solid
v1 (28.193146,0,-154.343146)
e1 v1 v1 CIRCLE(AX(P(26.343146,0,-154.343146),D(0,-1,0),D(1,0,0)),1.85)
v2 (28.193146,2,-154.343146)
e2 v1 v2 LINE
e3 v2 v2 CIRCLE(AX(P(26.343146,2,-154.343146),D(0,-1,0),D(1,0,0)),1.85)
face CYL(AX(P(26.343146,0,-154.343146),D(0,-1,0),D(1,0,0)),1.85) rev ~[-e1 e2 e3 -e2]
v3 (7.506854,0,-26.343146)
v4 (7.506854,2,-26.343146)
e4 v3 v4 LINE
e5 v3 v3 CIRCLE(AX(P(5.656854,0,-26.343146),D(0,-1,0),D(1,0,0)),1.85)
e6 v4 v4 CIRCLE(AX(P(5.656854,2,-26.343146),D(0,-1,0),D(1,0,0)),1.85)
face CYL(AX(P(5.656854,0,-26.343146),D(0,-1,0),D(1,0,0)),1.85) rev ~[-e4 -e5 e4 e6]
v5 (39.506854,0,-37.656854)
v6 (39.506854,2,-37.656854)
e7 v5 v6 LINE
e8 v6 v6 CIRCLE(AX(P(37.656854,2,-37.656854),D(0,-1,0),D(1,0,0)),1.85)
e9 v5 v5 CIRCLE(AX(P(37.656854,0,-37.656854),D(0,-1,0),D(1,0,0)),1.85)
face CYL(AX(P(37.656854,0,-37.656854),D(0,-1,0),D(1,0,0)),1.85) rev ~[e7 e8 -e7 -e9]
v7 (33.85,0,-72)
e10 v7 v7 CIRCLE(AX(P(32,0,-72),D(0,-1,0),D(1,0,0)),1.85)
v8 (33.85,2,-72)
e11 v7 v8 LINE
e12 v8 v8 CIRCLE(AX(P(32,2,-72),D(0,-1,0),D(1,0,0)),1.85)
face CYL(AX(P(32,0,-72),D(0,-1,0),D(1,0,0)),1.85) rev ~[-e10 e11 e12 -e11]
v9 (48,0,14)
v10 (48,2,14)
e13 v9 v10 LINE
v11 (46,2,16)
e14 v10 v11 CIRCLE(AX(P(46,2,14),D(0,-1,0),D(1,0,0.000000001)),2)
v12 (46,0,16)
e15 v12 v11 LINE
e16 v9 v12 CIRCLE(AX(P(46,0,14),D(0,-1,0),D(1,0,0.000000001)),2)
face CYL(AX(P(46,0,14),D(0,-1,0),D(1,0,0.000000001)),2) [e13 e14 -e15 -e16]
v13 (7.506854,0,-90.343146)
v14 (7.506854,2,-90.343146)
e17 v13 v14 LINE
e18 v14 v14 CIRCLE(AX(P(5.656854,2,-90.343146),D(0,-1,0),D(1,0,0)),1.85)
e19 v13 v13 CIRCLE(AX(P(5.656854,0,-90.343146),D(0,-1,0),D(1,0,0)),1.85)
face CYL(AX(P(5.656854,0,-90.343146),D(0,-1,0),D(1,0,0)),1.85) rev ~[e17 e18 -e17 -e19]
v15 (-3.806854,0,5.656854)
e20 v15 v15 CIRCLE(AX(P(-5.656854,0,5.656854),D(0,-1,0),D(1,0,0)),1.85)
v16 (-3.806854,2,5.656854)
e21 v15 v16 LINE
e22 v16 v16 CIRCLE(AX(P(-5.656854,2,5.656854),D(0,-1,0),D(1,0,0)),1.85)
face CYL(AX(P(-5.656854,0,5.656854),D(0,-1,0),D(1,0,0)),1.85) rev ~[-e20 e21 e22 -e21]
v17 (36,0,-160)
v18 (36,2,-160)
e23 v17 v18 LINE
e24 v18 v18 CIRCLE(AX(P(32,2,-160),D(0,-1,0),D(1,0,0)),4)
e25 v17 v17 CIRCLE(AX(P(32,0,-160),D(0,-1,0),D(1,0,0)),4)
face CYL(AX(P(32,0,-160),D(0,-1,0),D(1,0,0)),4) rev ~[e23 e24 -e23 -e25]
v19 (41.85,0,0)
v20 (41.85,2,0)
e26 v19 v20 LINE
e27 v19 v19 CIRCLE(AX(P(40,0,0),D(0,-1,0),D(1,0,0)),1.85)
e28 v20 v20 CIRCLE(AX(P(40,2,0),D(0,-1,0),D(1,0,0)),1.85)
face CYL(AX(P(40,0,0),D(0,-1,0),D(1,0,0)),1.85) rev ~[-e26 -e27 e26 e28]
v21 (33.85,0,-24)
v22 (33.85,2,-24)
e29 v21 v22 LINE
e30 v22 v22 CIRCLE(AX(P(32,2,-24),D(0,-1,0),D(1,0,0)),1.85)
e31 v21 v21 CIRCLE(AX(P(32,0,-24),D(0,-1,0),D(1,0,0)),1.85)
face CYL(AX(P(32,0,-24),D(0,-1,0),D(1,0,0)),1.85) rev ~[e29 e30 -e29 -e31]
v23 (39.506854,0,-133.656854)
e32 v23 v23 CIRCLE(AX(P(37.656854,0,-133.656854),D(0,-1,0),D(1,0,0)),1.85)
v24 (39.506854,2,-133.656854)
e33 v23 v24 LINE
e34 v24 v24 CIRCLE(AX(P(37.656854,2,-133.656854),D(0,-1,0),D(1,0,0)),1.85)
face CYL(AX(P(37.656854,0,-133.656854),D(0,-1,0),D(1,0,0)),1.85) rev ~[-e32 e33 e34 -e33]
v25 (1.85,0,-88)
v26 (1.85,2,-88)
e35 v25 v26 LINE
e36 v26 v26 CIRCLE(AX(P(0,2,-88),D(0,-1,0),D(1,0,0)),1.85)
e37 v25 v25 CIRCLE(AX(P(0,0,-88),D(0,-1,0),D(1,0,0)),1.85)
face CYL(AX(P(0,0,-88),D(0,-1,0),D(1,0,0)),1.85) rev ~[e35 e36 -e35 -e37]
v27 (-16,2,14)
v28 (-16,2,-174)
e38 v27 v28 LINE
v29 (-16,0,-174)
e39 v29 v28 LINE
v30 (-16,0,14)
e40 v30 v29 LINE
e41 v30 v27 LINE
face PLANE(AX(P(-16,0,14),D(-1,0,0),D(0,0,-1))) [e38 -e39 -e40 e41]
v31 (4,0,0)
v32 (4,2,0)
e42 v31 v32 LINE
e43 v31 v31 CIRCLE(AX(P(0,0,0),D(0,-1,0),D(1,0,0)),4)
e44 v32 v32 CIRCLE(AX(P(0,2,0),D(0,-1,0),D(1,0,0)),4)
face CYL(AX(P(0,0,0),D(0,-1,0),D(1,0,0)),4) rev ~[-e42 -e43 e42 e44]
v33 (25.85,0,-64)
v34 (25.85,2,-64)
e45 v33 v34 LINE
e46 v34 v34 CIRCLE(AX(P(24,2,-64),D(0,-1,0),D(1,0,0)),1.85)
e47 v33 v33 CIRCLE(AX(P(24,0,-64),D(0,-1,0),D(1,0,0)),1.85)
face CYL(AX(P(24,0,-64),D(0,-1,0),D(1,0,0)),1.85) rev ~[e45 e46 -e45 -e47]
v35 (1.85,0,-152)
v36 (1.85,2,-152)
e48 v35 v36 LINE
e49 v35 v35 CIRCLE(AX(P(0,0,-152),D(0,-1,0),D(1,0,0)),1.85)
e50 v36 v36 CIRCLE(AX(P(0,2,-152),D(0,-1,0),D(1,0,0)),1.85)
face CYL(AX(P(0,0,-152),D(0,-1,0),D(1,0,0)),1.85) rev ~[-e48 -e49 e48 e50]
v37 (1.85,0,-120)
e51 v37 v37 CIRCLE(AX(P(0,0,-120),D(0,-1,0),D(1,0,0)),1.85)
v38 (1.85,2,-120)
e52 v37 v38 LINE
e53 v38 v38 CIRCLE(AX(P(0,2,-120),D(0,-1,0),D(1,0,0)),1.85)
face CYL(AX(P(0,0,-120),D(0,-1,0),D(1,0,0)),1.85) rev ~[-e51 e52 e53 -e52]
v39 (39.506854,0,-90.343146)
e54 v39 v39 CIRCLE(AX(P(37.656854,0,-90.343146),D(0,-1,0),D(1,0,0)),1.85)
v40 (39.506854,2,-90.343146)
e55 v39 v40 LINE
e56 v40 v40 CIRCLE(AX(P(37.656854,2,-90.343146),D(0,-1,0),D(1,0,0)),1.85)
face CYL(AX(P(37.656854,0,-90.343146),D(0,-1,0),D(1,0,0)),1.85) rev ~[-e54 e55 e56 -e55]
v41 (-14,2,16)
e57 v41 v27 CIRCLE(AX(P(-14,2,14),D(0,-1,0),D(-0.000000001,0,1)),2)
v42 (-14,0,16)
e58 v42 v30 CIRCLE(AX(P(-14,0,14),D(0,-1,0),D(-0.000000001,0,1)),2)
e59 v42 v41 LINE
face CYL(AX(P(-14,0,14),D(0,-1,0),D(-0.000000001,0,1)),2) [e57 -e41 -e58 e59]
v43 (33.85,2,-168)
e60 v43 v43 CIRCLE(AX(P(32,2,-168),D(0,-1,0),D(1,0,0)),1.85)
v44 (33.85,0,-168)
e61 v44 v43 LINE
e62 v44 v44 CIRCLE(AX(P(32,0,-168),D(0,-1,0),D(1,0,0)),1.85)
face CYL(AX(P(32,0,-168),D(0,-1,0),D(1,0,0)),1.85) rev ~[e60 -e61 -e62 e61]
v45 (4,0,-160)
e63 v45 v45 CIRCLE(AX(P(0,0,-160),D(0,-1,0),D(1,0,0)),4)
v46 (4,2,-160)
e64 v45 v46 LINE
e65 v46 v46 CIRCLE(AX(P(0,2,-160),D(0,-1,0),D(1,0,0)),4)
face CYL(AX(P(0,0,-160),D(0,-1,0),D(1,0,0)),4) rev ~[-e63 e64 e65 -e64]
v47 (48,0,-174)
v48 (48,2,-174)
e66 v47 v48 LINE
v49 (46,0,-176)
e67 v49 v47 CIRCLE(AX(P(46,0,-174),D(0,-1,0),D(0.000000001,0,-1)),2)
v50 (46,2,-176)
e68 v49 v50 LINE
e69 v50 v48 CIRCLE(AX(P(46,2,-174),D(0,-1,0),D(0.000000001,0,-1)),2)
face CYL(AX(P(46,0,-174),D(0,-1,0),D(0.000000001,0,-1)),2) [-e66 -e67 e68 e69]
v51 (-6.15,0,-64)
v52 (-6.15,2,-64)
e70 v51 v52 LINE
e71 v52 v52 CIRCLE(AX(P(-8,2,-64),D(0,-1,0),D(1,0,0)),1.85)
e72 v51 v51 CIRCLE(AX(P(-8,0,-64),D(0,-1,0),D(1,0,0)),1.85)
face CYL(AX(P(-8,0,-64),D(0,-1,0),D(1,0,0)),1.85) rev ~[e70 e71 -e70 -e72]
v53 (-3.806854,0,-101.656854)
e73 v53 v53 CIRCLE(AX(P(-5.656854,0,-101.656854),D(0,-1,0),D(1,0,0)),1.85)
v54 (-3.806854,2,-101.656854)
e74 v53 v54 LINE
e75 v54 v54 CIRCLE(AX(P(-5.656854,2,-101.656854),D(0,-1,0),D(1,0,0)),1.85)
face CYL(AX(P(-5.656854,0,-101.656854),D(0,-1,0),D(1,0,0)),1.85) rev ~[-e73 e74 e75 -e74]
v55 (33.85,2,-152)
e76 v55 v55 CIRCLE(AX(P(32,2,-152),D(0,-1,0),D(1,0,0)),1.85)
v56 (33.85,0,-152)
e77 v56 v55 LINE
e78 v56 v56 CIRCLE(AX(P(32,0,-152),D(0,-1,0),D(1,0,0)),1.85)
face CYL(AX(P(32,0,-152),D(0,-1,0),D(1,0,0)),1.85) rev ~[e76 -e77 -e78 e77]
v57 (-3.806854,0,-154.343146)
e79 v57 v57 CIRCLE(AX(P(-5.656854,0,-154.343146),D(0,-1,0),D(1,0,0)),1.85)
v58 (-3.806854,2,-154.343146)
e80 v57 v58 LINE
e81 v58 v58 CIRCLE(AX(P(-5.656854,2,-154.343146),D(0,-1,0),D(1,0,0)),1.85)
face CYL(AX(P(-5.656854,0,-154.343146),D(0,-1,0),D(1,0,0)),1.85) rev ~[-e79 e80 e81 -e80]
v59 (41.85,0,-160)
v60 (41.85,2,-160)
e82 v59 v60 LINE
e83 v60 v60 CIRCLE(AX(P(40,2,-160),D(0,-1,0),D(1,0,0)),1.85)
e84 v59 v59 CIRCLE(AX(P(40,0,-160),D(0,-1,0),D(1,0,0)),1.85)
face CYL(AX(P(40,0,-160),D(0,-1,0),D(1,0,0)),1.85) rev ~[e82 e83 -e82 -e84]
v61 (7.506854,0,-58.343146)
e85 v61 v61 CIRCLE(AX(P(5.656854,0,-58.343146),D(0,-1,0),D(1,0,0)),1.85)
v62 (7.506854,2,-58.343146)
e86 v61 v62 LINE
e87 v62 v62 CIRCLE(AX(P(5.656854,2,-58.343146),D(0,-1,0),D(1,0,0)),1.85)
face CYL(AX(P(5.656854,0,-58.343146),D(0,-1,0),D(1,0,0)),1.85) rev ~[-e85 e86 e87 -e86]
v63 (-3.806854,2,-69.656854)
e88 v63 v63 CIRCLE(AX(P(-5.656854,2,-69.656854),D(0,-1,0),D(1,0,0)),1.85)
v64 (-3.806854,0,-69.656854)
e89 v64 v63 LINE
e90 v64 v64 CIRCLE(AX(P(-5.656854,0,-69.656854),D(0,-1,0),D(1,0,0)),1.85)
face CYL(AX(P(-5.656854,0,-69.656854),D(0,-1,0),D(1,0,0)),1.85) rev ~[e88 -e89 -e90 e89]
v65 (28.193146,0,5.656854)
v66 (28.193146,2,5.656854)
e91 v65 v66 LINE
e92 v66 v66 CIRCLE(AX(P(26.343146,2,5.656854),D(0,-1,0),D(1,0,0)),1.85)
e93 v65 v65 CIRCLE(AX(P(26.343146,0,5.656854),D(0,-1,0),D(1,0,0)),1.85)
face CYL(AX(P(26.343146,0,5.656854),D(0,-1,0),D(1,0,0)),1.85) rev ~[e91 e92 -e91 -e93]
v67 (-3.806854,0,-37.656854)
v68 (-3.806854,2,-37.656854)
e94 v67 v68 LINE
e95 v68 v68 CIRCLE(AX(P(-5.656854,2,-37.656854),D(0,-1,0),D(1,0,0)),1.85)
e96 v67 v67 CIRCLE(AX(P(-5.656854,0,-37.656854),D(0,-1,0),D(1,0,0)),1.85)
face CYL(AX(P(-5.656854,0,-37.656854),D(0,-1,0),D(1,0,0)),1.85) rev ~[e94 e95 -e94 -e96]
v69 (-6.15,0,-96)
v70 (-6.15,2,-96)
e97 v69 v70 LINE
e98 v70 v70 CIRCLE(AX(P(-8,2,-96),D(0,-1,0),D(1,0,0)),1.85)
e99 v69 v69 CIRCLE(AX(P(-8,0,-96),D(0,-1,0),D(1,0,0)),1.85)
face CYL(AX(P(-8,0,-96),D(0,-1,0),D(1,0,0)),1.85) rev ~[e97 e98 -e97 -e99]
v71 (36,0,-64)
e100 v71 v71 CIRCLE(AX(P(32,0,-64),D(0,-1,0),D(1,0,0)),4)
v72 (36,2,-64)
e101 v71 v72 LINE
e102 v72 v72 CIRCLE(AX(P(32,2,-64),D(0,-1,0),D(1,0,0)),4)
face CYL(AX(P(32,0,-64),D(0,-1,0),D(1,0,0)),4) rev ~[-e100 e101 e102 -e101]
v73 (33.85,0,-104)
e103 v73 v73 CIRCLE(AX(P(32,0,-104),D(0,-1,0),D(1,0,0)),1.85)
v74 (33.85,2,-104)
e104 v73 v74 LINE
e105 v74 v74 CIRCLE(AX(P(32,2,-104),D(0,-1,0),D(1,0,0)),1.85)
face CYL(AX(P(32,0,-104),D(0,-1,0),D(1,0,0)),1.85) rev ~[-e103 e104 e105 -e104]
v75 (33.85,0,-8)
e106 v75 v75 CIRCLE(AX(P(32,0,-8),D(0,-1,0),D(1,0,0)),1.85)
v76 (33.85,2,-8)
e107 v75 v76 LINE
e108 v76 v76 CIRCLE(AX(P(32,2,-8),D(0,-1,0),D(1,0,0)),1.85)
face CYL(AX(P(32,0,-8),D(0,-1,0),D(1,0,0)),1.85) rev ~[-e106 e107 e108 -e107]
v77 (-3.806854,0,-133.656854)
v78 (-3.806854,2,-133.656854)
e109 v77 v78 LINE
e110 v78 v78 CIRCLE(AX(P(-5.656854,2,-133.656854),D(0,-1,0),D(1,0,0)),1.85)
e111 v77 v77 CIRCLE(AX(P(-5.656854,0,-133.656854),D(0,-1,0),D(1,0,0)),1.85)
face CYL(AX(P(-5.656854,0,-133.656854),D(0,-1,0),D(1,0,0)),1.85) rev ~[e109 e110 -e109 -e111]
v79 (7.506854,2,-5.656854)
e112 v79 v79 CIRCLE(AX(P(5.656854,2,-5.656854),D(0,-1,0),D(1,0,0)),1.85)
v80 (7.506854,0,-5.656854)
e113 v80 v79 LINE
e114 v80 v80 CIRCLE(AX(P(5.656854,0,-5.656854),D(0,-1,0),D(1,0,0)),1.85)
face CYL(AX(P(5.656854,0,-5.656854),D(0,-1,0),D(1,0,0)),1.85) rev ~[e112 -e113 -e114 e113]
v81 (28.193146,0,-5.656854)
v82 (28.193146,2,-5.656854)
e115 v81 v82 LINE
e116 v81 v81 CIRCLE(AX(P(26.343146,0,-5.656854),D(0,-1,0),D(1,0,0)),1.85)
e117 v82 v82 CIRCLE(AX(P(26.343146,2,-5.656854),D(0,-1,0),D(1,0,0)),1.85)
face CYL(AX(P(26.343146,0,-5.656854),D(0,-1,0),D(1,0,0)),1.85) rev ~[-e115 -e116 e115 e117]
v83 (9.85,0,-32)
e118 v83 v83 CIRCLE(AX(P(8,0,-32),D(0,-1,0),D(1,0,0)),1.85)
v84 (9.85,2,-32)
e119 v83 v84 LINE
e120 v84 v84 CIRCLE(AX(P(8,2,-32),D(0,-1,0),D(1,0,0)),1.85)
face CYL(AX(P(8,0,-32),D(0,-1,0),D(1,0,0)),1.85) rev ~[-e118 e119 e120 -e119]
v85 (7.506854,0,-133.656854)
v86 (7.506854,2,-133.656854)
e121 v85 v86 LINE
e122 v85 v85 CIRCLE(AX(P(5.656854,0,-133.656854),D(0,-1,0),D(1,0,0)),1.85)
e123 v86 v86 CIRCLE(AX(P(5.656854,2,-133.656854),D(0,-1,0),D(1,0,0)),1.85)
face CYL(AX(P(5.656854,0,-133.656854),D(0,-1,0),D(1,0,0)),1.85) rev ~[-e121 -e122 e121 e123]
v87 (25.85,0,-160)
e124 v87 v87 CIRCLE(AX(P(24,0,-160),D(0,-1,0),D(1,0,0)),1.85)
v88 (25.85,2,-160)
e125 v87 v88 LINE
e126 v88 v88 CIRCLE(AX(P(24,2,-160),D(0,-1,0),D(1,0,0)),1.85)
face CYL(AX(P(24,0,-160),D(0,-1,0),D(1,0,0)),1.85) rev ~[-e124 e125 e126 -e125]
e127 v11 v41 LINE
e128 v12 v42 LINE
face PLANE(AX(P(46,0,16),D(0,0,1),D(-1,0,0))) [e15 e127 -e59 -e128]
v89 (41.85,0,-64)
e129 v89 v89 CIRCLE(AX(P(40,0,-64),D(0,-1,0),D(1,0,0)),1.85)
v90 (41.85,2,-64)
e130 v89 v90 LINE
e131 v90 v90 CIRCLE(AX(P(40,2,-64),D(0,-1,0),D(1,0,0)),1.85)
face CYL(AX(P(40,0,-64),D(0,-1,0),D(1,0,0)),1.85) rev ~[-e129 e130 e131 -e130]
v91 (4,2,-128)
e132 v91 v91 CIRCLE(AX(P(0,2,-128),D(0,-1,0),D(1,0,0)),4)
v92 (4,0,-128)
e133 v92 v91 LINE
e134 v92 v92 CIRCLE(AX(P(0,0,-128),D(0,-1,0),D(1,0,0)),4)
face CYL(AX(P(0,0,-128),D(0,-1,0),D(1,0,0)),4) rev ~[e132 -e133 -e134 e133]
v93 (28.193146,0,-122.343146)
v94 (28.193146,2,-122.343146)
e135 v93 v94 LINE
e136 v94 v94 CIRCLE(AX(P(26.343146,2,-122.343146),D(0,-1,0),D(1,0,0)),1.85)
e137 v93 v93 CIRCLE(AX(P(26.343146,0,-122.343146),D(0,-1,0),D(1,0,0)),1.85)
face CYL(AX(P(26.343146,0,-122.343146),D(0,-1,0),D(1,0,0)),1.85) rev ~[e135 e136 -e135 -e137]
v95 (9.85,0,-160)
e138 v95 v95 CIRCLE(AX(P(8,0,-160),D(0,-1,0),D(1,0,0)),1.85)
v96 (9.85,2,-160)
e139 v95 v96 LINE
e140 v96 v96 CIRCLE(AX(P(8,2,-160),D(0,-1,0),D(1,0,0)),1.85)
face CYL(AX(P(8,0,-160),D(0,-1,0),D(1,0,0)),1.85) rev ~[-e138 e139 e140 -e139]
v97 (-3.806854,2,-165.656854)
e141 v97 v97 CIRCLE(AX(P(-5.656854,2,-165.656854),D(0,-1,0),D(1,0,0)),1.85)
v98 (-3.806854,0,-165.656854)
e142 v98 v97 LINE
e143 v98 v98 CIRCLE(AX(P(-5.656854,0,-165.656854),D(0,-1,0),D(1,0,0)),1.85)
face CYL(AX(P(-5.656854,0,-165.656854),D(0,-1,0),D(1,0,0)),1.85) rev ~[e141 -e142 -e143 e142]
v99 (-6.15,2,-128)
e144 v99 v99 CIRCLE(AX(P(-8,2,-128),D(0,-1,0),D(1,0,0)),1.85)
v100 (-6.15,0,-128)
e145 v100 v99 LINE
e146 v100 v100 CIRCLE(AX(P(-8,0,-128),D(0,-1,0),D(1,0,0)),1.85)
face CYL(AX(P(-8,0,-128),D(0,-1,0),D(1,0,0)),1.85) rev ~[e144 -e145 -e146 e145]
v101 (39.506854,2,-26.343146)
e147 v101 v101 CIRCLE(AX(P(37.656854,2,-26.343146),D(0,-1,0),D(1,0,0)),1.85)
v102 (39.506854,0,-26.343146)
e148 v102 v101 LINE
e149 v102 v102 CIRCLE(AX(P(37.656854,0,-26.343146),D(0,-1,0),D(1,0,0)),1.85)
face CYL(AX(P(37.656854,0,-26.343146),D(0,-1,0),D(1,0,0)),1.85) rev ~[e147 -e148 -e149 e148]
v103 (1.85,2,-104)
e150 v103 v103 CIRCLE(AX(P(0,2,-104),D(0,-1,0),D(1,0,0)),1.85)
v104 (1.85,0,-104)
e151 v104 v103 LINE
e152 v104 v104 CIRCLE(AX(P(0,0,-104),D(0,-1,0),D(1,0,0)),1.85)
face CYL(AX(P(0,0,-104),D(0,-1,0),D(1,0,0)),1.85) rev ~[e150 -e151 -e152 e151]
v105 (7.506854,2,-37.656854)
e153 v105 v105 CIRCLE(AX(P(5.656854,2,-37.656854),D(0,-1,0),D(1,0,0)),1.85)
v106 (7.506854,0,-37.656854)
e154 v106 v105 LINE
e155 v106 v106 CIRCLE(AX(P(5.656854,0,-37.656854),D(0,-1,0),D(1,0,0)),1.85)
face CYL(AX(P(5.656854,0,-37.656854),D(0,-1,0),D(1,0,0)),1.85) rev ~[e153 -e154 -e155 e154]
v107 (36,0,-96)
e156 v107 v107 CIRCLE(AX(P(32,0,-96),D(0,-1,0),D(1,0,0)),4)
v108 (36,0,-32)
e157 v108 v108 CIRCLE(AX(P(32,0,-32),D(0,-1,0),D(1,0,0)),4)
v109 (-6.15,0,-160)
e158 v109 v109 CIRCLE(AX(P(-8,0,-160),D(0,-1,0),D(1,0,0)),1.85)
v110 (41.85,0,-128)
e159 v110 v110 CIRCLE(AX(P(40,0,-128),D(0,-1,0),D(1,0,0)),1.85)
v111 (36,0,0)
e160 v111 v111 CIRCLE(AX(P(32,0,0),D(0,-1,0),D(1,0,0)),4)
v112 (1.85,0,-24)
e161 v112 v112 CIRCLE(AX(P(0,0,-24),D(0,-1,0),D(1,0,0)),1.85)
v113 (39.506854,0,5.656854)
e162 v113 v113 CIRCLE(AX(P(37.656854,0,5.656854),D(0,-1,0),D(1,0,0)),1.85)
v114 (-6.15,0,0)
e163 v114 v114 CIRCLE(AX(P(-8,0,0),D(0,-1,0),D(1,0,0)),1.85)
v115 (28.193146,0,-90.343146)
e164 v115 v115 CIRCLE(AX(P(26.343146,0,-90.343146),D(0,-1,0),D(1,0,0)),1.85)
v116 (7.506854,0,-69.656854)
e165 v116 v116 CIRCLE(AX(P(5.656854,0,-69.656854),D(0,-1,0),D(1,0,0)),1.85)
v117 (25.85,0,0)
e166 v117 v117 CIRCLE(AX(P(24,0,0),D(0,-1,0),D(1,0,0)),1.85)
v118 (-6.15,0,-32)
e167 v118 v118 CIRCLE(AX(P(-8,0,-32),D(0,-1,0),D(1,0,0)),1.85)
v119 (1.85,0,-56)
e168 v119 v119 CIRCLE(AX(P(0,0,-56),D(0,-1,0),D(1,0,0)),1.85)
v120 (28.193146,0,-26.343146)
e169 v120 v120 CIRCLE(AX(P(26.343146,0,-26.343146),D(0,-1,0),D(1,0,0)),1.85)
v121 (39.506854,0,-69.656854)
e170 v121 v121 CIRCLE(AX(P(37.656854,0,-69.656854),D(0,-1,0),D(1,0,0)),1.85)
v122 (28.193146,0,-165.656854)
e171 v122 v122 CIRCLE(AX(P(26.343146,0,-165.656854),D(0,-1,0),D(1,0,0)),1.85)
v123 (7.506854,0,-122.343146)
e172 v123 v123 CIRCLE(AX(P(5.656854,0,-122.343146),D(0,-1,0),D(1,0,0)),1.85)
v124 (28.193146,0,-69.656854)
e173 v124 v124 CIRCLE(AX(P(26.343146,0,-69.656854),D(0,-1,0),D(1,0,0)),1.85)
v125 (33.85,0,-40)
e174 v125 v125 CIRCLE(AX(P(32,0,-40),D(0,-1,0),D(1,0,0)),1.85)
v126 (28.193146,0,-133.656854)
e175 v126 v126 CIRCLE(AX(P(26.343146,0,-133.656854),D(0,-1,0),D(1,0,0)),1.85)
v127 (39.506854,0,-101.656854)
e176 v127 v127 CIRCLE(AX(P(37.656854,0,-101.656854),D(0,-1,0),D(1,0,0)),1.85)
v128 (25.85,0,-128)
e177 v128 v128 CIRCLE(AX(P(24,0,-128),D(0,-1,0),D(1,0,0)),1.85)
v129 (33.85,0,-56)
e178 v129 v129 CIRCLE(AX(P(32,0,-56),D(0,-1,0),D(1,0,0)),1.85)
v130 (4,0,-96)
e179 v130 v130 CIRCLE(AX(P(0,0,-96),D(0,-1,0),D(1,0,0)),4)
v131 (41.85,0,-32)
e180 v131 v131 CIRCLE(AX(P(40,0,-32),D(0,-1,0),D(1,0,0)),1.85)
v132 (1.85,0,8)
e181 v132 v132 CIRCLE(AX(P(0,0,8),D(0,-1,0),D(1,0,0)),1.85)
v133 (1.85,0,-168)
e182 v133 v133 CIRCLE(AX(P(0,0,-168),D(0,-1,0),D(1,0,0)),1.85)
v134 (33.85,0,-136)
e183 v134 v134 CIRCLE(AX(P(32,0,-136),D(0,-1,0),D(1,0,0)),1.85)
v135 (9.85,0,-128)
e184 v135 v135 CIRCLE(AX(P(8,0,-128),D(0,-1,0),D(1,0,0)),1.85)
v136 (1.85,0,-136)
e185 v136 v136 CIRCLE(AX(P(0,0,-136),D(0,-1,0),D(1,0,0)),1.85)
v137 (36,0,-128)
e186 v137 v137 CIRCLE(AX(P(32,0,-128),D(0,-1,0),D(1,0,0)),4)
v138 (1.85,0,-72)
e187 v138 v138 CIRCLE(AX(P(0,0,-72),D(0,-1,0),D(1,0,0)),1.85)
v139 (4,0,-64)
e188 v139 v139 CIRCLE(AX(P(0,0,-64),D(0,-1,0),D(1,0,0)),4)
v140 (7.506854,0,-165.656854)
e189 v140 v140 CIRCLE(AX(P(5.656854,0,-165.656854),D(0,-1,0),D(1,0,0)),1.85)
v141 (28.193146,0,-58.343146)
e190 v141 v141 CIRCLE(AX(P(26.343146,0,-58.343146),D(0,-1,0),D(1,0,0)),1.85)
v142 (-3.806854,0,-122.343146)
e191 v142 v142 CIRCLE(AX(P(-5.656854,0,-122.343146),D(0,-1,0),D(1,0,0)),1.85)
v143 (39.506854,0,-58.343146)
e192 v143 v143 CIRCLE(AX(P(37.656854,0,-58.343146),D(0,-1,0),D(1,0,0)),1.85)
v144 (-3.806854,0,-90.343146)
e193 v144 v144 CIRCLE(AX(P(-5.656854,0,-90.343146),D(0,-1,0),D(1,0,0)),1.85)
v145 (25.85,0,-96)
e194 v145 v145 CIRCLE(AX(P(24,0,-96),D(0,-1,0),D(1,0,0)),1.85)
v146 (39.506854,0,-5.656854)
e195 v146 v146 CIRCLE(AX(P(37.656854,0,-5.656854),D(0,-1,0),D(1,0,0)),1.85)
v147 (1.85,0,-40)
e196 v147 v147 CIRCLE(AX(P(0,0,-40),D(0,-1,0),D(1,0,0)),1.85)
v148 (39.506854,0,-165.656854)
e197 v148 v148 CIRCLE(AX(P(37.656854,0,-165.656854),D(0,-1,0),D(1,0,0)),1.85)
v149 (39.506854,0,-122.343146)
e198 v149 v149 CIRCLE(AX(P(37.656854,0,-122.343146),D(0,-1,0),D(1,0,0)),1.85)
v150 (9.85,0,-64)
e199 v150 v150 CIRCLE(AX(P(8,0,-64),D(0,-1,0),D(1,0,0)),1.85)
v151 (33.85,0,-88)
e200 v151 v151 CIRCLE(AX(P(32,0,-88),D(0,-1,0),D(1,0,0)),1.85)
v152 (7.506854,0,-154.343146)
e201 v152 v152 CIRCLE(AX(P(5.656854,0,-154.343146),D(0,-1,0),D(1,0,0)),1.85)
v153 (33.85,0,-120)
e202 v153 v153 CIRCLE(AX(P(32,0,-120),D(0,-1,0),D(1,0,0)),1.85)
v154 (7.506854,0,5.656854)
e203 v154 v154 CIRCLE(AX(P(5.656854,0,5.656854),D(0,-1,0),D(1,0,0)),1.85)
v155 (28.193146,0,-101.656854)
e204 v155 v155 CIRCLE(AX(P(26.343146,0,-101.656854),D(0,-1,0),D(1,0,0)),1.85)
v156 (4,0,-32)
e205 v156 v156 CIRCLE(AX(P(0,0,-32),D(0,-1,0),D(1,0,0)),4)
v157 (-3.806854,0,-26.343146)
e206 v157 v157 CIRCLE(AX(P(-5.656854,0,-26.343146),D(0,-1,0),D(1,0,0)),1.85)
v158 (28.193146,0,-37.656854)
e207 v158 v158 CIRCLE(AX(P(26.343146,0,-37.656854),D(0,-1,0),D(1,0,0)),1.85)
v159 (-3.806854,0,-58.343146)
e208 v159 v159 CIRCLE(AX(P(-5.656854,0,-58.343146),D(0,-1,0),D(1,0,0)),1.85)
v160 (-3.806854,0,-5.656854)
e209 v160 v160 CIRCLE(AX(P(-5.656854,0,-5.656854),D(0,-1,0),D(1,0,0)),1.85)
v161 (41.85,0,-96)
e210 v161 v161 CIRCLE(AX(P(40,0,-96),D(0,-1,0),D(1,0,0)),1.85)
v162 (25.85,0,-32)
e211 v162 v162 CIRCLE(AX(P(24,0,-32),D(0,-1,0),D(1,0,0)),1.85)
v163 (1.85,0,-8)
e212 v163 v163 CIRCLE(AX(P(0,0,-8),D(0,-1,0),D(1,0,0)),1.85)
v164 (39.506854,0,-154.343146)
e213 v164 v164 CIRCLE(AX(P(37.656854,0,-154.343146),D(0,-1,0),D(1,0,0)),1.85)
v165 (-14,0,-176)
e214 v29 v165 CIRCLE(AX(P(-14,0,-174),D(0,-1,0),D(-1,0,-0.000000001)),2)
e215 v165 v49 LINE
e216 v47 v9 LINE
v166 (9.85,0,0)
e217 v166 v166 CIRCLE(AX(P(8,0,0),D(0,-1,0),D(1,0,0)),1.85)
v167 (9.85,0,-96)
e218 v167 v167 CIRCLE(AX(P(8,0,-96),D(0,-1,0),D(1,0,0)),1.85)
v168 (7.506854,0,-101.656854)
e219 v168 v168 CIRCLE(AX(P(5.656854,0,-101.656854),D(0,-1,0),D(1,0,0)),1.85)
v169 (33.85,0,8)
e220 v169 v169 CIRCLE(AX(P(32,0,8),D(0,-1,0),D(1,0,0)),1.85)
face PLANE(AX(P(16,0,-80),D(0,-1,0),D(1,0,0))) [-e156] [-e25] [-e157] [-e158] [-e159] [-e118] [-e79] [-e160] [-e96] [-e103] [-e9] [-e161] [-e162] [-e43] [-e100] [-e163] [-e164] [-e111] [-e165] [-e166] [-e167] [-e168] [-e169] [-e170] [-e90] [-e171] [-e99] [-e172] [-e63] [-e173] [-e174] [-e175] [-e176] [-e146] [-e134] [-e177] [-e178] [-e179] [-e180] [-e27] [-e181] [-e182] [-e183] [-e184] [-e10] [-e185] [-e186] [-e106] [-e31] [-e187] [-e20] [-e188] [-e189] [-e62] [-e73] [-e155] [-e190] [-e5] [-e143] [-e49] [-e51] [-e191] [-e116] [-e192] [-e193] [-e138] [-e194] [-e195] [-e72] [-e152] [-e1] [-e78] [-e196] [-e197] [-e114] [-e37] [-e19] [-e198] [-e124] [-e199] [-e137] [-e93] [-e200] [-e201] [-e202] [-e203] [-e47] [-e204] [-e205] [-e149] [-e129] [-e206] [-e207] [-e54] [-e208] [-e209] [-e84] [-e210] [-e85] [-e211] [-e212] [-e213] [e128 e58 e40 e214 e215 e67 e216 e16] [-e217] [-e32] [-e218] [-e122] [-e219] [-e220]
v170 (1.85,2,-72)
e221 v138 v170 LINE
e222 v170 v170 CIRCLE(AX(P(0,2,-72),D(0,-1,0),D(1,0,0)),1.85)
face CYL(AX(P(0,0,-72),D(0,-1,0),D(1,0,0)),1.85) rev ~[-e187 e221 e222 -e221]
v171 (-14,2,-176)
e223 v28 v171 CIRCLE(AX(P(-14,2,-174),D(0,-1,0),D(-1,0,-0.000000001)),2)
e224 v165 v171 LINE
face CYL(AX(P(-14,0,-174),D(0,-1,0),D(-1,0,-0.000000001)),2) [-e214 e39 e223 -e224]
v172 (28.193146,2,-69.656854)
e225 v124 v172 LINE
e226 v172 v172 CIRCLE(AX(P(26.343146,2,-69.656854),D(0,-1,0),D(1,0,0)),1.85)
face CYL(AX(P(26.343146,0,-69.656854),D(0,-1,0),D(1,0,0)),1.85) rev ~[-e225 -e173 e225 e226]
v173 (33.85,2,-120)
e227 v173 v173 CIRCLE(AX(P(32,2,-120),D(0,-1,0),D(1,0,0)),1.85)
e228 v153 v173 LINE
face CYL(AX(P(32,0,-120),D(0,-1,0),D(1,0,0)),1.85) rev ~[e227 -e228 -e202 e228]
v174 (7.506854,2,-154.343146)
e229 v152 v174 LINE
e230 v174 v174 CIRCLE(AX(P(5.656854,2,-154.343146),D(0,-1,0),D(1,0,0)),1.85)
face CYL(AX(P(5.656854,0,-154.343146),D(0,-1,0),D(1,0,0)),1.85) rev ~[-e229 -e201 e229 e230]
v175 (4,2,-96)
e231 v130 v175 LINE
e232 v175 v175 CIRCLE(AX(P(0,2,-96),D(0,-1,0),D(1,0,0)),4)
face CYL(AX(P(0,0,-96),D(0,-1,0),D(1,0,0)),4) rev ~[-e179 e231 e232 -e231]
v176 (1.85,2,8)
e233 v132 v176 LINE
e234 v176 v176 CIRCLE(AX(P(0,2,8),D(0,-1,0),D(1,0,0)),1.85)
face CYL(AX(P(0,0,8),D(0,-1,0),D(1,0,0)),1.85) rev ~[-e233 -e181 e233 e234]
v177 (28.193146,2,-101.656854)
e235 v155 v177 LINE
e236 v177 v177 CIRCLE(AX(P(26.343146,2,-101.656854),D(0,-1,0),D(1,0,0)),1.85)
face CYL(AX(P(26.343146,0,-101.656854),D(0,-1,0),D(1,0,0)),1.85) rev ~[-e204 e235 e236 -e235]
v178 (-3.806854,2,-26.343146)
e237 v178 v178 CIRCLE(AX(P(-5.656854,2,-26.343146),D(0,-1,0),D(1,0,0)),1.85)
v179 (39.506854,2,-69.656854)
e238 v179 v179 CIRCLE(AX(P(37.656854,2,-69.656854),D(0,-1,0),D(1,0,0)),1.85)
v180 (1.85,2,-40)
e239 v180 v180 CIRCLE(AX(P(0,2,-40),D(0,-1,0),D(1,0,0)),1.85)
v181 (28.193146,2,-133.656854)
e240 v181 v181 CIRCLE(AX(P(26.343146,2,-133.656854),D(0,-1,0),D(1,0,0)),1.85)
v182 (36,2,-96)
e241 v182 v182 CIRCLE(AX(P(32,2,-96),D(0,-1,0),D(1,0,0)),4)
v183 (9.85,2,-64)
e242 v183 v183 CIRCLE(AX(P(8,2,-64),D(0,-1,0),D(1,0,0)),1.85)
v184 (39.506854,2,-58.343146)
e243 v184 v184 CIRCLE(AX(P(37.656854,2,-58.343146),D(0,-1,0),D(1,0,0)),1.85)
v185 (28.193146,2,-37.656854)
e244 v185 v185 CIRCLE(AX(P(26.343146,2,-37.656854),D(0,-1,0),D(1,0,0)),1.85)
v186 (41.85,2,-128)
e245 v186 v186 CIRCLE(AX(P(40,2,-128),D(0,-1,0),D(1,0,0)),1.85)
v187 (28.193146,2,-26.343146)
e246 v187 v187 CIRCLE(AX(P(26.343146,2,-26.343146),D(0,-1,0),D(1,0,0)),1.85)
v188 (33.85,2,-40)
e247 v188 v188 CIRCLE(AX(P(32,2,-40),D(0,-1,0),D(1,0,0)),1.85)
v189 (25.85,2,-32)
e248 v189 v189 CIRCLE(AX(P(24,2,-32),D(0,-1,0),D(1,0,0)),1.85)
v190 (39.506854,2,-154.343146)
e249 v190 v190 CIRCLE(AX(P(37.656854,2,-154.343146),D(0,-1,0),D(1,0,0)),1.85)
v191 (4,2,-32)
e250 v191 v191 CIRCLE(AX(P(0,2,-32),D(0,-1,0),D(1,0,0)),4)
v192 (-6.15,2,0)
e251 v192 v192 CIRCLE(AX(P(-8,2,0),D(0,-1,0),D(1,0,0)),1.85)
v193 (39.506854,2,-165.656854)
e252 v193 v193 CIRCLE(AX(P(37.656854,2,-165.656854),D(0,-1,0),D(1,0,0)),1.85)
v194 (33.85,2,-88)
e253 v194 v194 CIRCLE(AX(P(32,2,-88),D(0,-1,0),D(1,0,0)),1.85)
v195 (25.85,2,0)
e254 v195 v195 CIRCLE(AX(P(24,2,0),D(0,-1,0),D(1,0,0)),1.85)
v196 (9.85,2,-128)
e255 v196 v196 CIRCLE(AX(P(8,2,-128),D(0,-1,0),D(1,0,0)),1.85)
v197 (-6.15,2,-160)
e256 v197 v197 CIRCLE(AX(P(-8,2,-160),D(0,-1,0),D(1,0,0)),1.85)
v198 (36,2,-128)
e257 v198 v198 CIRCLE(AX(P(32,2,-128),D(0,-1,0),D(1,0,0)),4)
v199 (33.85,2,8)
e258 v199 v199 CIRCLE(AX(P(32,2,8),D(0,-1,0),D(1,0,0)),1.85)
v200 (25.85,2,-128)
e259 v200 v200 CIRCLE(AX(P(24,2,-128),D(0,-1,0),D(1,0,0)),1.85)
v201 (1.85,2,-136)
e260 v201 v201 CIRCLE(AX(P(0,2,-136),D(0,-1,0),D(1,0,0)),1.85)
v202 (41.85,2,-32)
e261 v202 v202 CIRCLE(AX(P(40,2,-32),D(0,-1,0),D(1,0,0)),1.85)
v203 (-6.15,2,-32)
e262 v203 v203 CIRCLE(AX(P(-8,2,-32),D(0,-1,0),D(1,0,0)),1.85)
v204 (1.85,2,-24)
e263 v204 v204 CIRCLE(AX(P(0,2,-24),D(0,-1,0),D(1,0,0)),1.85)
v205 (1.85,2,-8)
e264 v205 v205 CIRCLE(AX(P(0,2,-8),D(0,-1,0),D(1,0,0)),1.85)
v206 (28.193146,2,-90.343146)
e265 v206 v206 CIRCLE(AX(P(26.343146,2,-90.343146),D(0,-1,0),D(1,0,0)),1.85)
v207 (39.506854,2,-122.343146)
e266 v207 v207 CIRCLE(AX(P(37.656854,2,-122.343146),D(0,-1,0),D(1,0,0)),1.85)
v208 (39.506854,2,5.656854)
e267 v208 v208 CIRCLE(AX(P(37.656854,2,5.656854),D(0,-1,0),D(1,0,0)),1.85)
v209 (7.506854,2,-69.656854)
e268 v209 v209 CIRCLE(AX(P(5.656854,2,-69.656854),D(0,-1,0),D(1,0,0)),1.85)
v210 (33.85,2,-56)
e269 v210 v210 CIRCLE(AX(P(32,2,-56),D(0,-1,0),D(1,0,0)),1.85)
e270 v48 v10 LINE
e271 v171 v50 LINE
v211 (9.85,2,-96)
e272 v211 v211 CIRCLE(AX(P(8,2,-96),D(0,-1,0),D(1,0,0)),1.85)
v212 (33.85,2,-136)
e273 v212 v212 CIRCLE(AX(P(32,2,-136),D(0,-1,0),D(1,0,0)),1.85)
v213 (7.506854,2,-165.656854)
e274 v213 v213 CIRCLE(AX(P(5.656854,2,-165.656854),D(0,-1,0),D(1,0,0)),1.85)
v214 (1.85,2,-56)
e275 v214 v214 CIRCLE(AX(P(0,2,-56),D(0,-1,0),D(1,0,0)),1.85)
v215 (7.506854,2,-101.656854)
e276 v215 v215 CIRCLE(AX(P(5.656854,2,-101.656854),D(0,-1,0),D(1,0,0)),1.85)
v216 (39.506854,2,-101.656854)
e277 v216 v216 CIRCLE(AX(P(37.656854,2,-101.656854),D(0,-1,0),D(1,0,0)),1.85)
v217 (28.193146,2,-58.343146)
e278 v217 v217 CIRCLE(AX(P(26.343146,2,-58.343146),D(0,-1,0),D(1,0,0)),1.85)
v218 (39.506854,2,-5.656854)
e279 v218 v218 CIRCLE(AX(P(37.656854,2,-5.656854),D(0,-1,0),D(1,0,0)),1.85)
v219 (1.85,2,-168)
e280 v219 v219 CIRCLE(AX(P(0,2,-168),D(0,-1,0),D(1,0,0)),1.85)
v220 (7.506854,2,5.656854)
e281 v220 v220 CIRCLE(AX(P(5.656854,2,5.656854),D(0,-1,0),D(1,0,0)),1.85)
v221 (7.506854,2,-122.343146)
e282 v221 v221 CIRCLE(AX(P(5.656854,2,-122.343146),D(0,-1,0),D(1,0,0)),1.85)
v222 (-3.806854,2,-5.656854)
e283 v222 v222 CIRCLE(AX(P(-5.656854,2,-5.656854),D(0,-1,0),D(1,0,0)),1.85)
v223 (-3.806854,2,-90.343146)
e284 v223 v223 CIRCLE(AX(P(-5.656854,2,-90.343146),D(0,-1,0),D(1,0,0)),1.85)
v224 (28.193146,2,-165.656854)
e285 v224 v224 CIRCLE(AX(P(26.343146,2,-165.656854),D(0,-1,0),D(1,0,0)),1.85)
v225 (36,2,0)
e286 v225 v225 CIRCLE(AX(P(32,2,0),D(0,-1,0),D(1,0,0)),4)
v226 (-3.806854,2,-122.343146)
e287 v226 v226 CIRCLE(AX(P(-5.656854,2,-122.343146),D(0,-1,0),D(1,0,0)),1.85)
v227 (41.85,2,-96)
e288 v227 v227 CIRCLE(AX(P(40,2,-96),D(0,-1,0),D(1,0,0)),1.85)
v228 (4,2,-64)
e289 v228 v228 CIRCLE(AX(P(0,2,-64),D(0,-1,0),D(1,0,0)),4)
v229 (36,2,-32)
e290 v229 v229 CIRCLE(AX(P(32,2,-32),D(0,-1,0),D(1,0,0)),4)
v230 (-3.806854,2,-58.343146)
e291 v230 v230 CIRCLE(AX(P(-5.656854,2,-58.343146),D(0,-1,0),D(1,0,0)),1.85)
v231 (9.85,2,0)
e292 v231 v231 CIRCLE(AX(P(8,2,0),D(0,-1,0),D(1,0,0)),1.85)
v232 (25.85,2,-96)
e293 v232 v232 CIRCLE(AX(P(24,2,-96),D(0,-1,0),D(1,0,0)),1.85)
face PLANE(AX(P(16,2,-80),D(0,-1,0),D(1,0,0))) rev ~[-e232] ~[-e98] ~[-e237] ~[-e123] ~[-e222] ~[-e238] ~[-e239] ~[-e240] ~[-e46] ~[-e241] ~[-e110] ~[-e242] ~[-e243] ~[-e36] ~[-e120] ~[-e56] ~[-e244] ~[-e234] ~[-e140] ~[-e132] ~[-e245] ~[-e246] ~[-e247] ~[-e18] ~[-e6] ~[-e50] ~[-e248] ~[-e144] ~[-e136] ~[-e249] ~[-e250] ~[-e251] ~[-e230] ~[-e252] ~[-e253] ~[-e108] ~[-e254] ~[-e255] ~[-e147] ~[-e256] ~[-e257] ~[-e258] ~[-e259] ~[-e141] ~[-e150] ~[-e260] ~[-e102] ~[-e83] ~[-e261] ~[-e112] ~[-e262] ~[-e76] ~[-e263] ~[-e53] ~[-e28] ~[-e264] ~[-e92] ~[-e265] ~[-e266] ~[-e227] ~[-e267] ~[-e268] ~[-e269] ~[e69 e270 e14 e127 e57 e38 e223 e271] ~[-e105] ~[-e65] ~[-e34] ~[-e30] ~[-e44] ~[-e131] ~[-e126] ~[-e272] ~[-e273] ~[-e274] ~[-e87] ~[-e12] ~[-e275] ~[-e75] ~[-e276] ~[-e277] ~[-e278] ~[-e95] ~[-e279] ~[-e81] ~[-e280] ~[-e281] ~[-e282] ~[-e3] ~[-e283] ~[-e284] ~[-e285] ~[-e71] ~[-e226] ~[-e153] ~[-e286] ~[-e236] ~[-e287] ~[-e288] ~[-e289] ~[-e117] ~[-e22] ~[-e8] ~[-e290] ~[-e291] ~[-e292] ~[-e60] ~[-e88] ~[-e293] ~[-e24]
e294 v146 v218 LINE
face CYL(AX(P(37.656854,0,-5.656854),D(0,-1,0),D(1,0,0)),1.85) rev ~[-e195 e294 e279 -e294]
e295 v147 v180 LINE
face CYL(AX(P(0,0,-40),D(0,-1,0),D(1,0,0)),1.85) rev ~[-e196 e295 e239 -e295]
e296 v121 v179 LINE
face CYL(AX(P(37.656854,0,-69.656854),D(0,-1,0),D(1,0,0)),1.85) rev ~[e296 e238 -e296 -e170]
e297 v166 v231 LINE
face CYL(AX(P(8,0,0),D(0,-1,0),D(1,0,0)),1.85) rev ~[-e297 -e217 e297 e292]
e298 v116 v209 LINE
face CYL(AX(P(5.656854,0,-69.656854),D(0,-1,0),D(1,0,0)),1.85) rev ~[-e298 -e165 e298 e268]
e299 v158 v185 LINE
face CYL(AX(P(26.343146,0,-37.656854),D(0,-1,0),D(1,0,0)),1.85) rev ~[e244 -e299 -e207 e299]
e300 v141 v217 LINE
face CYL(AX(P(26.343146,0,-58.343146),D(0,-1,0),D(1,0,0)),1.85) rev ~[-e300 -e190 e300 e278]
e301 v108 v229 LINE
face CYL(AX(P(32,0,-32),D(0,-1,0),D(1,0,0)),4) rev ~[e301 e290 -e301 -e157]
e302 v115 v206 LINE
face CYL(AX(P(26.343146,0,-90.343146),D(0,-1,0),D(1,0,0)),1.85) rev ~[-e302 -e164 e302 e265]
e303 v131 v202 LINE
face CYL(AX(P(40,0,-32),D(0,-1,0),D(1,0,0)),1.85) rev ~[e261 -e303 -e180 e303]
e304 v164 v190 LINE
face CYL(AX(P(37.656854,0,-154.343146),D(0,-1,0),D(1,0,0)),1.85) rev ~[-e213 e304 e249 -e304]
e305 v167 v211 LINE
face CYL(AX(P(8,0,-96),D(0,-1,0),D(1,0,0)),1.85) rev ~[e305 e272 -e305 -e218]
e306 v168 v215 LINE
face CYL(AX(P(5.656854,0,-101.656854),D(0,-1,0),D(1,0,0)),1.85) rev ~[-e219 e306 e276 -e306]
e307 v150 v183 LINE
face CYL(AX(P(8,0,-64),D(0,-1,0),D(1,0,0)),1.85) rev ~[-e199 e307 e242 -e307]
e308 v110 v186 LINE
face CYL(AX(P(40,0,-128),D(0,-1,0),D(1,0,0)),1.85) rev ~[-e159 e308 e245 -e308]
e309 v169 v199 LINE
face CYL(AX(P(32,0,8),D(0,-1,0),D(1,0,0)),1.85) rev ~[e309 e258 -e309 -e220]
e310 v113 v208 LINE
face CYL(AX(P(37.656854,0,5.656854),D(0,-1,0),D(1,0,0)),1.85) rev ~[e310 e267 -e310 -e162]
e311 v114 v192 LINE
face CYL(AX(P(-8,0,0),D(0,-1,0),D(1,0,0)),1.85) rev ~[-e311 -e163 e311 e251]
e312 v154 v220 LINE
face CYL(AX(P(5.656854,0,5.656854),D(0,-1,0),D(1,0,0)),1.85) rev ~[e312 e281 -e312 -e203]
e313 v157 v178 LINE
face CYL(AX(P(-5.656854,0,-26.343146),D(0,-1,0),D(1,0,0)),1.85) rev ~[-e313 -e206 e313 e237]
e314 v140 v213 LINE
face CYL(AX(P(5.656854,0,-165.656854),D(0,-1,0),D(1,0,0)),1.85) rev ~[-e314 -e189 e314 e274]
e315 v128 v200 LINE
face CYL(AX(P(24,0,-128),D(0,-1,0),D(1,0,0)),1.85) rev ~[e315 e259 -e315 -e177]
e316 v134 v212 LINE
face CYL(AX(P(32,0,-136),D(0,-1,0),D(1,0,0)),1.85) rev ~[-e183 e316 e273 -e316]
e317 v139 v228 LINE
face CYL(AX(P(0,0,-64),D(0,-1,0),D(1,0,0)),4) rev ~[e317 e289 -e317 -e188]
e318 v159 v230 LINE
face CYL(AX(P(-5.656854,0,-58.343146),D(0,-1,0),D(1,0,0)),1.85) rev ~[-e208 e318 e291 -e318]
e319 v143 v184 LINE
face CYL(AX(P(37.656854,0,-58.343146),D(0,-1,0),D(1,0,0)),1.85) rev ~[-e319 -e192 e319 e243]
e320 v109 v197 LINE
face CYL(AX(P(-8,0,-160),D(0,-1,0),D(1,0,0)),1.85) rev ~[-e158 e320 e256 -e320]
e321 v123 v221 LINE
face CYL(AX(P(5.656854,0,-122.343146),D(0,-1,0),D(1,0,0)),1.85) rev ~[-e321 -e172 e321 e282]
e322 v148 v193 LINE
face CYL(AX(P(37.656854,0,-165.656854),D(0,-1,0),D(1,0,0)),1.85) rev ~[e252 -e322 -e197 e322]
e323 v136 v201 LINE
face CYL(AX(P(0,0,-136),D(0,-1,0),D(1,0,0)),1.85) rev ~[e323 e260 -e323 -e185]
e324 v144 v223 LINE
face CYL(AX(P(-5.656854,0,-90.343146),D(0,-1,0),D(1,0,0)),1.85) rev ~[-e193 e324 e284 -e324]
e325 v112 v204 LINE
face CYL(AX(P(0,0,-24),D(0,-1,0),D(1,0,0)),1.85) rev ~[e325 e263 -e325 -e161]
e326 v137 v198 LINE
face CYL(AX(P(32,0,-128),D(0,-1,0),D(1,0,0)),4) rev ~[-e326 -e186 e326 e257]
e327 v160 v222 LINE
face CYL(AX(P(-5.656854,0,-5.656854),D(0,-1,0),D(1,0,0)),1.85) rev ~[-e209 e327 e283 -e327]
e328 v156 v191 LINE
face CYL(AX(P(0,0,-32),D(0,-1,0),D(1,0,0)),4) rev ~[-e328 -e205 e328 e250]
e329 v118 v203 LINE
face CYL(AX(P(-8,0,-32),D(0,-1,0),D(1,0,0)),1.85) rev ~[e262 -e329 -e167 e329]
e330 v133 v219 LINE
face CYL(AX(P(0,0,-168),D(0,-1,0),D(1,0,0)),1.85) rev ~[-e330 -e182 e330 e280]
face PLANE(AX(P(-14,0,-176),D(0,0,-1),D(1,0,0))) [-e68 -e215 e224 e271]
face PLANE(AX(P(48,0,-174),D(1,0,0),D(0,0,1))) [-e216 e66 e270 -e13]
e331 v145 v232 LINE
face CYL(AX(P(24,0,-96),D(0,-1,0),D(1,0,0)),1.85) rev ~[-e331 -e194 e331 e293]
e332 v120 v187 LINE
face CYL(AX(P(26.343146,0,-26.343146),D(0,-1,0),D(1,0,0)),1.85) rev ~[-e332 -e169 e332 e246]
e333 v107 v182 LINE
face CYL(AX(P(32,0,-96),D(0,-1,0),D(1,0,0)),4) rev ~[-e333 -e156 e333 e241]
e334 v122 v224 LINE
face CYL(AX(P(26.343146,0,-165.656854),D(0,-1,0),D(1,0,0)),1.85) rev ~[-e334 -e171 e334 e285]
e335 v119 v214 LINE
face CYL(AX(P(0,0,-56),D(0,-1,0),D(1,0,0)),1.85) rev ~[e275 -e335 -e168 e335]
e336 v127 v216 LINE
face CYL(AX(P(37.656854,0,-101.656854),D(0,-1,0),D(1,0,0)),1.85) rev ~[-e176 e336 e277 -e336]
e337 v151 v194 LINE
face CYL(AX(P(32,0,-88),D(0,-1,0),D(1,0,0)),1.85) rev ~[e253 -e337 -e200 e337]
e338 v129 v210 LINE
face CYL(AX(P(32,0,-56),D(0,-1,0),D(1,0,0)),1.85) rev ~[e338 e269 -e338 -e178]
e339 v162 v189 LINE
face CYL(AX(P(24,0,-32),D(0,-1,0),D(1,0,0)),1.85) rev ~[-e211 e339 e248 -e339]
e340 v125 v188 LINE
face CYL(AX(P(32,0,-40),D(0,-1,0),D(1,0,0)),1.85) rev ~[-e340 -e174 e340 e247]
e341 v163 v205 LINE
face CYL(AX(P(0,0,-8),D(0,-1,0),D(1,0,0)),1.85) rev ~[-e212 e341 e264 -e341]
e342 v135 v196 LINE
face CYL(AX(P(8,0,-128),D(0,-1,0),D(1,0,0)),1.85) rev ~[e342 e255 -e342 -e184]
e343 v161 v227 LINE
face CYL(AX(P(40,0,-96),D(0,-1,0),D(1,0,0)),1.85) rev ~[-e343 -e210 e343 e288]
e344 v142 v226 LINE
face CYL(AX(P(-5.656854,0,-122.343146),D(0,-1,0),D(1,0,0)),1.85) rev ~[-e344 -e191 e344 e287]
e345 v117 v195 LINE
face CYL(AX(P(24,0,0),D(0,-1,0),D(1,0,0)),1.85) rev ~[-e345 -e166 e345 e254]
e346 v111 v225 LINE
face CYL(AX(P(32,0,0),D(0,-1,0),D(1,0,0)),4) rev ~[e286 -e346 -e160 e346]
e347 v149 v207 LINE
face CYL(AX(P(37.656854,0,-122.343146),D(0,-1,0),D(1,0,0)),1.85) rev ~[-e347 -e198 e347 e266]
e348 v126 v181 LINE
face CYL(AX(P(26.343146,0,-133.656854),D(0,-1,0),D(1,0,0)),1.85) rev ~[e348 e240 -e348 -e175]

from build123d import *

# Parameters (mm, degrees)
SKETCH1_R           = 1.85
SKETCH1_R_2         = 4
BOSS_EXTRUDE1_DEPTH = 2


with BuildPart() as part:
    # Sketch1 → Boss-Extrude1 (new body)
    with BuildSketch(Plane.XZ):
        with BuildLine():
            Line((48, -174), (48, 14))
            ThreePointArc((48, 14), (47.414213562, 15.414213562), (46, 16))
            Line((46, 16), (-14, 16))
            ThreePointArc((-14, 16), (-15.414213562, 15.414213562), (-16, 14))
            Line((-16, 14), (-16, -174))
            ThreePointArc((-16, -174), (-15.414213562, -175.414213562), (-14, -176))
            Line((-14, -176), (46, -176))
            ThreePointArc((46, -176), (47.414213562, -175.414213562), (48, -174))
        make_face()
        with Locations((37.656854249, -154.343145751)):
            Circle(SKETCH1_R, mode=Mode.SUBTRACT)
        with Locations((26.343145751, -154.343145751)):
            Circle(SKETCH1_R, mode=Mode.SUBTRACT)
        with Locations((26.343145751, -165.656854249)):
            Circle(SKETCH1_R, mode=Mode.SUBTRACT)
        with Locations((37.656854249, -165.656854249)):
            Circle(SKETCH1_R, mode=Mode.SUBTRACT)
        with Locations((24, -160)):
            Circle(SKETCH1_R, mode=Mode.SUBTRACT)
        with Locations((32, -152)):
            Circle(SKETCH1_R, mode=Mode.SUBTRACT)
        with Locations((40, -160)):
            Circle(SKETCH1_R, mode=Mode.SUBTRACT)
        with Locations((32, -168)):
            Circle(SKETCH1_R, mode=Mode.SUBTRACT)
        with Locations((32, -160)):
            Circle(SKETCH1_R_2, mode=Mode.SUBTRACT)
        with Locations((5.656854249, -154.343145751)):
            Circle(SKETCH1_R, mode=Mode.SUBTRACT)
        with Locations((-5.656854249, -154.343145751)):
            Circle(SKETCH1_R, mode=Mode.SUBTRACT)
        with Locations((-5.656854249, -165.656854249)):
            Circle(SKETCH1_R, mode=Mode.SUBTRACT)
        with Locations((5.656854249, -165.656854249)):
            Circle(SKETCH1_R, mode=Mode.SUBTRACT)
        with Locations((-8, -160)):
            Circle(SKETCH1_R, mode=Mode.SUBTRACT)
        with Locations((0, -152)):
            Circle(SKETCH1_R, mode=Mode.SUBTRACT)
        with Locations((8, -160)):
            Circle(SKETCH1_R, mode=Mode.SUBTRACT)
        with Locations((0, -168)):
            Circle(SKETCH1_R, mode=Mode.SUBTRACT)
        with Locations((0, -160)):
            Circle(SKETCH1_R_2, mode=Mode.SUBTRACT)
        with Locations((37.656854249, -122.34314575)):
            Circle(SKETCH1_R, mode=Mode.SUBTRACT)
        with Locations((26.343145751, -122.34314575)):
            Circle(SKETCH1_R, mode=Mode.SUBTRACT)
        with Locations((26.343145751, -133.656854249)):
            Circle(SKETCH1_R, mode=Mode.SUBTRACT)
        with Locations((37.656854249, -133.656854249)):
            Circle(SKETCH1_R, mode=Mode.SUBTRACT)
        with Locations((24, -128)):
            Circle(SKETCH1_R, mode=Mode.SUBTRACT)
        with Locations((32, -120)):
            Circle(SKETCH1_R, mode=Mode.SUBTRACT)
        with Locations((40, -128)):
            Circle(SKETCH1_R, mode=Mode.SUBTRACT)
        with Locations((32, -136)):
            Circle(SKETCH1_R, mode=Mode.SUBTRACT)
        with Locations((32, -128)):
            Circle(SKETCH1_R_2, mode=Mode.SUBTRACT)
        with Locations((5.656854249, -122.34314575)):
            Circle(SKETCH1_R, mode=Mode.SUBTRACT)
        with Locations((-5.656854249, -122.34314575)):
            Circle(SKETCH1_R, mode=Mode.SUBTRACT)
        with Locations((-5.656854249, -133.656854249)):
            Circle(SKETCH1_R, mode=Mode.SUBTRACT)
        with Locations((5.656854249, -133.656854249)):
            Circle(SKETCH1_R, mode=Mode.SUBTRACT)
        with Locations((-8, -128)):
            Circle(SKETCH1_R, mode=Mode.SUBTRACT)
        with Locations((0, -120)):
            Circle(SKETCH1_R, mode=Mode.SUBTRACT)
        with Locations((8, -128)):
            Circle(SKETCH1_R, mode=Mode.SUBTRACT)
        with Locations((0, -136)):
            Circle(SKETCH1_R, mode=Mode.SUBTRACT)
        with Locations((0, -128)):
            Circle(SKETCH1_R_2, mode=Mode.SUBTRACT)
        with Locations((37.656854249, -90.343145751)):
            Circle(SKETCH1_R, mode=Mode.SUBTRACT)
        with Locations((26.343145751, -90.343145751)):
            Circle(SKETCH1_R, mode=Mode.SUBTRACT)
        with Locations((26.343145751, -101.65685425)):
            Circle(SKETCH1_R, mode=Mode.SUBTRACT)
        with Locations((37.656854249, -101.65685425)):
            Circle(SKETCH1_R, mode=Mode.SUBTRACT)
        with Locations((24, -96)):
            Circle(SKETCH1_R, mode=Mode.SUBTRACT)
        with Locations((32, -88)):
            Circle(SKETCH1_R, mode=Mode.SUBTRACT)
        with Locations((40, -96)):
            Circle(SKETCH1_R, mode=Mode.SUBTRACT)
        with Locations((32, -104)):
            Circle(SKETCH1_R, mode=Mode.SUBTRACT)
        with Locations((32, -96)):
            Circle(SKETCH1_R_2, mode=Mode.SUBTRACT)
        with Locations((5.656854249, -90.343145751)):
            Circle(SKETCH1_R, mode=Mode.SUBTRACT)
        with Locations((-5.656854249, -90.343145751)):
            Circle(SKETCH1_R, mode=Mode.SUBTRACT)
        with Locations((-5.656854249, -101.65685425)):
            Circle(SKETCH1_R, mode=Mode.SUBTRACT)
        with Locations((5.656854249, -101.65685425)):
            Circle(SKETCH1_R, mode=Mode.SUBTRACT)
        with Locations((-8, -96)):
            Circle(SKETCH1_R, mode=Mode.SUBTRACT)
        with Locations((0, -88)):
            Circle(SKETCH1_R, mode=Mode.SUBTRACT)
        with Locations((8, -96)):
            Circle(SKETCH1_R, mode=Mode.SUBTRACT)
        with Locations((0, -104)):
            Circle(SKETCH1_R, mode=Mode.SUBTRACT)
        with Locations((0, -96)):
            Circle(SKETCH1_R_2, mode=Mode.SUBTRACT)
        with Locations((37.656854249, -58.343145751)):
            Circle(SKETCH1_R, mode=Mode.SUBTRACT)
        with Locations((26.343145751, -58.343145751)):
            Circle(SKETCH1_R, mode=Mode.SUBTRACT)
        with Locations((26.343145751, -69.656854249)):
            Circle(SKETCH1_R, mode=Mode.SUBTRACT)
        with Locations((37.656854249, -69.656854249)):
            Circle(SKETCH1_R, mode=Mode.SUBTRACT)
        with Locations((24, -64)):
            Circle(SKETCH1_R, mode=Mode.SUBTRACT)
        with Locations((32, -56)):
            Circle(SKETCH1_R, mode=Mode.SUBTRACT)
        with Locations((40, -64)):
            Circle(SKETCH1_R, mode=Mode.SUBTRACT)
        with Locations((32, -72)):
            Circle(SKETCH1_R, mode=Mode.SUBTRACT)
        with Locations((32, -64)):
            Circle(SKETCH1_R_2, mode=Mode.SUBTRACT)
        with Locations((5.656854249, -58.343145751)):
            Circle(SKETCH1_R, mode=Mode.SUBTRACT)
        with Locations((-5.656854249, -58.343145751)):
            Circle(SKETCH1_R, mode=Mode.SUBTRACT)
        with Locations((-5.656854249, -69.656854249)):
            Circle(SKETCH1_R, mode=Mode.SUBTRACT)
        with Locations((5.656854249, -69.656854249)):
            Circle(SKETCH1_R, mode=Mode.SUBTRACT)
        with Locations((-8, -64)):
            Circle(SKETCH1_R, mode=Mode.SUBTRACT)
        with Locations((0, -56)):
            Circle(SKETCH1_R, mode=Mode.SUBTRACT)
        with Locations((8, -64)):
            Circle(SKETCH1_R, mode=Mode.SUBTRACT)
        with Locations((0, -72)):
            Circle(SKETCH1_R, mode=Mode.SUBTRACT)
        with Locations((0, -64)):
            Circle(SKETCH1_R_2, mode=Mode.SUBTRACT)
        Circle(SKETCH1_R_2, mode=Mode.SUBTRACT)
        with Locations((37.656854249, -26.343145751)):
            Circle(SKETCH1_R, mode=Mode.SUBTRACT)
        with Locations((26.343145751, -26.343145751)):
            Circle(SKETCH1_R, mode=Mode.SUBTRACT)
        with Locations((26.343145751, -37.656854249)):
            Circle(SKETCH1_R, mode=Mode.SUBTRACT)
        with Locations((37.656854249, -37.656854249)):
            Circle(SKETCH1_R, mode=Mode.SUBTRACT)
        with Locations((24, -32)):
            Circle(SKETCH1_R, mode=Mode.SUBTRACT)
        with Locations((32, -24)):
            Circle(SKETCH1_R, mode=Mode.SUBTRACT)
        with Locations((40, -32)):
            Circle(SKETCH1_R, mode=Mode.SUBTRACT)
        with Locations((32, -40)):
            Circle(SKETCH1_R, mode=Mode.SUBTRACT)
        with Locations((32, -32)):
            Circle(SKETCH1_R_2, mode=Mode.SUBTRACT)
        with Locations((5.656854249, -26.343145751)):
            Circle(SKETCH1_R, mode=Mode.SUBTRACT)
        with Locations((-5.656854249, -26.343145751)):
            Circle(SKETCH1_R, mode=Mode.SUBTRACT)
        with Locations((-5.656854249, -37.656854249)):
            Circle(SKETCH1_R, mode=Mode.SUBTRACT)
        with Locations((5.656854249, -37.656854249)):
            Circle(SKETCH1_R, mode=Mode.SUBTRACT)
        with Locations((-8, -32)):
            Circle(SKETCH1_R, mode=Mode.SUBTRACT)
        with Locations((0, -24)):
            Circle(SKETCH1_R, mode=Mode.SUBTRACT)
        with Locations((8, -32)):
            Circle(SKETCH1_R, mode=Mode.SUBTRACT)
        with Locations((0, -40)):
            Circle(SKETCH1_R, mode=Mode.SUBTRACT)
        with Locations((0, -32)):
            Circle(SKETCH1_R_2, mode=Mode.SUBTRACT)
        with Locations((37.656854249, 5.656854249)):
            Circle(SKETCH1_R, mode=Mode.SUBTRACT)
        with Locations((26.343145751, 5.656854249)):
            Circle(SKETCH1_R, mode=Mode.SUBTRACT)
        with Locations((26.343145751, -5.656854249)):
            Circle(SKETCH1_R, mode=Mode.SUBTRACT)
        with Locations((37.656854249, -5.656854249)):
            Circle(SKETCH1_R, mode=Mode.SUBTRACT)
        with Locations((24, 0)):
            Circle(SKETCH1_R, mode=Mode.SUBTRACT)
        with Locations((32, 8)):
            Circle(SKETCH1_R, mode=Mode.SUBTRACT)
        with Locations((40, 0)):
            Circle(SKETCH1_R, mode=Mode.SUBTRACT)
        with Locations((32, -8)):
            Circle(SKETCH1_R, mode=Mode.SUBTRACT)
        with Locations((32, 0)):
            Circle(SKETCH1_R_2, mode=Mode.SUBTRACT)
        with Locations((5.656854249, 5.656854249)):
            Circle(SKETCH1_R, mode=Mode.SUBTRACT)
        with Locations((-5.656854249, 5.656854249)):
            Circle(SKETCH1_R, mode=Mode.SUBTRACT)
        with Locations((-5.656854249, -5.656854249)):
            Circle(SKETCH1_R, mode=Mode.SUBTRACT)
        with Locations((5.656854249, -5.656854249)):
            Circle(SKETCH1_R, mode=Mode.SUBTRACT)
        with Locations((-8, 0)):
            Circle(SKETCH1_R, mode=Mode.SUBTRACT)
        with Locations((0, 8)):
            Circle(SKETCH1_R, mode=Mode.SUBTRACT)
        with Locations((8, 0)):
            Circle(SKETCH1_R, mode=Mode.SUBTRACT)
        with Locations((0, -8)):
            Circle(SKETCH1_R, mode=Mode.SUBTRACT)
    extrude(amount=-BOSS_EXTRUDE1_DEPTH)


solid = part.part
